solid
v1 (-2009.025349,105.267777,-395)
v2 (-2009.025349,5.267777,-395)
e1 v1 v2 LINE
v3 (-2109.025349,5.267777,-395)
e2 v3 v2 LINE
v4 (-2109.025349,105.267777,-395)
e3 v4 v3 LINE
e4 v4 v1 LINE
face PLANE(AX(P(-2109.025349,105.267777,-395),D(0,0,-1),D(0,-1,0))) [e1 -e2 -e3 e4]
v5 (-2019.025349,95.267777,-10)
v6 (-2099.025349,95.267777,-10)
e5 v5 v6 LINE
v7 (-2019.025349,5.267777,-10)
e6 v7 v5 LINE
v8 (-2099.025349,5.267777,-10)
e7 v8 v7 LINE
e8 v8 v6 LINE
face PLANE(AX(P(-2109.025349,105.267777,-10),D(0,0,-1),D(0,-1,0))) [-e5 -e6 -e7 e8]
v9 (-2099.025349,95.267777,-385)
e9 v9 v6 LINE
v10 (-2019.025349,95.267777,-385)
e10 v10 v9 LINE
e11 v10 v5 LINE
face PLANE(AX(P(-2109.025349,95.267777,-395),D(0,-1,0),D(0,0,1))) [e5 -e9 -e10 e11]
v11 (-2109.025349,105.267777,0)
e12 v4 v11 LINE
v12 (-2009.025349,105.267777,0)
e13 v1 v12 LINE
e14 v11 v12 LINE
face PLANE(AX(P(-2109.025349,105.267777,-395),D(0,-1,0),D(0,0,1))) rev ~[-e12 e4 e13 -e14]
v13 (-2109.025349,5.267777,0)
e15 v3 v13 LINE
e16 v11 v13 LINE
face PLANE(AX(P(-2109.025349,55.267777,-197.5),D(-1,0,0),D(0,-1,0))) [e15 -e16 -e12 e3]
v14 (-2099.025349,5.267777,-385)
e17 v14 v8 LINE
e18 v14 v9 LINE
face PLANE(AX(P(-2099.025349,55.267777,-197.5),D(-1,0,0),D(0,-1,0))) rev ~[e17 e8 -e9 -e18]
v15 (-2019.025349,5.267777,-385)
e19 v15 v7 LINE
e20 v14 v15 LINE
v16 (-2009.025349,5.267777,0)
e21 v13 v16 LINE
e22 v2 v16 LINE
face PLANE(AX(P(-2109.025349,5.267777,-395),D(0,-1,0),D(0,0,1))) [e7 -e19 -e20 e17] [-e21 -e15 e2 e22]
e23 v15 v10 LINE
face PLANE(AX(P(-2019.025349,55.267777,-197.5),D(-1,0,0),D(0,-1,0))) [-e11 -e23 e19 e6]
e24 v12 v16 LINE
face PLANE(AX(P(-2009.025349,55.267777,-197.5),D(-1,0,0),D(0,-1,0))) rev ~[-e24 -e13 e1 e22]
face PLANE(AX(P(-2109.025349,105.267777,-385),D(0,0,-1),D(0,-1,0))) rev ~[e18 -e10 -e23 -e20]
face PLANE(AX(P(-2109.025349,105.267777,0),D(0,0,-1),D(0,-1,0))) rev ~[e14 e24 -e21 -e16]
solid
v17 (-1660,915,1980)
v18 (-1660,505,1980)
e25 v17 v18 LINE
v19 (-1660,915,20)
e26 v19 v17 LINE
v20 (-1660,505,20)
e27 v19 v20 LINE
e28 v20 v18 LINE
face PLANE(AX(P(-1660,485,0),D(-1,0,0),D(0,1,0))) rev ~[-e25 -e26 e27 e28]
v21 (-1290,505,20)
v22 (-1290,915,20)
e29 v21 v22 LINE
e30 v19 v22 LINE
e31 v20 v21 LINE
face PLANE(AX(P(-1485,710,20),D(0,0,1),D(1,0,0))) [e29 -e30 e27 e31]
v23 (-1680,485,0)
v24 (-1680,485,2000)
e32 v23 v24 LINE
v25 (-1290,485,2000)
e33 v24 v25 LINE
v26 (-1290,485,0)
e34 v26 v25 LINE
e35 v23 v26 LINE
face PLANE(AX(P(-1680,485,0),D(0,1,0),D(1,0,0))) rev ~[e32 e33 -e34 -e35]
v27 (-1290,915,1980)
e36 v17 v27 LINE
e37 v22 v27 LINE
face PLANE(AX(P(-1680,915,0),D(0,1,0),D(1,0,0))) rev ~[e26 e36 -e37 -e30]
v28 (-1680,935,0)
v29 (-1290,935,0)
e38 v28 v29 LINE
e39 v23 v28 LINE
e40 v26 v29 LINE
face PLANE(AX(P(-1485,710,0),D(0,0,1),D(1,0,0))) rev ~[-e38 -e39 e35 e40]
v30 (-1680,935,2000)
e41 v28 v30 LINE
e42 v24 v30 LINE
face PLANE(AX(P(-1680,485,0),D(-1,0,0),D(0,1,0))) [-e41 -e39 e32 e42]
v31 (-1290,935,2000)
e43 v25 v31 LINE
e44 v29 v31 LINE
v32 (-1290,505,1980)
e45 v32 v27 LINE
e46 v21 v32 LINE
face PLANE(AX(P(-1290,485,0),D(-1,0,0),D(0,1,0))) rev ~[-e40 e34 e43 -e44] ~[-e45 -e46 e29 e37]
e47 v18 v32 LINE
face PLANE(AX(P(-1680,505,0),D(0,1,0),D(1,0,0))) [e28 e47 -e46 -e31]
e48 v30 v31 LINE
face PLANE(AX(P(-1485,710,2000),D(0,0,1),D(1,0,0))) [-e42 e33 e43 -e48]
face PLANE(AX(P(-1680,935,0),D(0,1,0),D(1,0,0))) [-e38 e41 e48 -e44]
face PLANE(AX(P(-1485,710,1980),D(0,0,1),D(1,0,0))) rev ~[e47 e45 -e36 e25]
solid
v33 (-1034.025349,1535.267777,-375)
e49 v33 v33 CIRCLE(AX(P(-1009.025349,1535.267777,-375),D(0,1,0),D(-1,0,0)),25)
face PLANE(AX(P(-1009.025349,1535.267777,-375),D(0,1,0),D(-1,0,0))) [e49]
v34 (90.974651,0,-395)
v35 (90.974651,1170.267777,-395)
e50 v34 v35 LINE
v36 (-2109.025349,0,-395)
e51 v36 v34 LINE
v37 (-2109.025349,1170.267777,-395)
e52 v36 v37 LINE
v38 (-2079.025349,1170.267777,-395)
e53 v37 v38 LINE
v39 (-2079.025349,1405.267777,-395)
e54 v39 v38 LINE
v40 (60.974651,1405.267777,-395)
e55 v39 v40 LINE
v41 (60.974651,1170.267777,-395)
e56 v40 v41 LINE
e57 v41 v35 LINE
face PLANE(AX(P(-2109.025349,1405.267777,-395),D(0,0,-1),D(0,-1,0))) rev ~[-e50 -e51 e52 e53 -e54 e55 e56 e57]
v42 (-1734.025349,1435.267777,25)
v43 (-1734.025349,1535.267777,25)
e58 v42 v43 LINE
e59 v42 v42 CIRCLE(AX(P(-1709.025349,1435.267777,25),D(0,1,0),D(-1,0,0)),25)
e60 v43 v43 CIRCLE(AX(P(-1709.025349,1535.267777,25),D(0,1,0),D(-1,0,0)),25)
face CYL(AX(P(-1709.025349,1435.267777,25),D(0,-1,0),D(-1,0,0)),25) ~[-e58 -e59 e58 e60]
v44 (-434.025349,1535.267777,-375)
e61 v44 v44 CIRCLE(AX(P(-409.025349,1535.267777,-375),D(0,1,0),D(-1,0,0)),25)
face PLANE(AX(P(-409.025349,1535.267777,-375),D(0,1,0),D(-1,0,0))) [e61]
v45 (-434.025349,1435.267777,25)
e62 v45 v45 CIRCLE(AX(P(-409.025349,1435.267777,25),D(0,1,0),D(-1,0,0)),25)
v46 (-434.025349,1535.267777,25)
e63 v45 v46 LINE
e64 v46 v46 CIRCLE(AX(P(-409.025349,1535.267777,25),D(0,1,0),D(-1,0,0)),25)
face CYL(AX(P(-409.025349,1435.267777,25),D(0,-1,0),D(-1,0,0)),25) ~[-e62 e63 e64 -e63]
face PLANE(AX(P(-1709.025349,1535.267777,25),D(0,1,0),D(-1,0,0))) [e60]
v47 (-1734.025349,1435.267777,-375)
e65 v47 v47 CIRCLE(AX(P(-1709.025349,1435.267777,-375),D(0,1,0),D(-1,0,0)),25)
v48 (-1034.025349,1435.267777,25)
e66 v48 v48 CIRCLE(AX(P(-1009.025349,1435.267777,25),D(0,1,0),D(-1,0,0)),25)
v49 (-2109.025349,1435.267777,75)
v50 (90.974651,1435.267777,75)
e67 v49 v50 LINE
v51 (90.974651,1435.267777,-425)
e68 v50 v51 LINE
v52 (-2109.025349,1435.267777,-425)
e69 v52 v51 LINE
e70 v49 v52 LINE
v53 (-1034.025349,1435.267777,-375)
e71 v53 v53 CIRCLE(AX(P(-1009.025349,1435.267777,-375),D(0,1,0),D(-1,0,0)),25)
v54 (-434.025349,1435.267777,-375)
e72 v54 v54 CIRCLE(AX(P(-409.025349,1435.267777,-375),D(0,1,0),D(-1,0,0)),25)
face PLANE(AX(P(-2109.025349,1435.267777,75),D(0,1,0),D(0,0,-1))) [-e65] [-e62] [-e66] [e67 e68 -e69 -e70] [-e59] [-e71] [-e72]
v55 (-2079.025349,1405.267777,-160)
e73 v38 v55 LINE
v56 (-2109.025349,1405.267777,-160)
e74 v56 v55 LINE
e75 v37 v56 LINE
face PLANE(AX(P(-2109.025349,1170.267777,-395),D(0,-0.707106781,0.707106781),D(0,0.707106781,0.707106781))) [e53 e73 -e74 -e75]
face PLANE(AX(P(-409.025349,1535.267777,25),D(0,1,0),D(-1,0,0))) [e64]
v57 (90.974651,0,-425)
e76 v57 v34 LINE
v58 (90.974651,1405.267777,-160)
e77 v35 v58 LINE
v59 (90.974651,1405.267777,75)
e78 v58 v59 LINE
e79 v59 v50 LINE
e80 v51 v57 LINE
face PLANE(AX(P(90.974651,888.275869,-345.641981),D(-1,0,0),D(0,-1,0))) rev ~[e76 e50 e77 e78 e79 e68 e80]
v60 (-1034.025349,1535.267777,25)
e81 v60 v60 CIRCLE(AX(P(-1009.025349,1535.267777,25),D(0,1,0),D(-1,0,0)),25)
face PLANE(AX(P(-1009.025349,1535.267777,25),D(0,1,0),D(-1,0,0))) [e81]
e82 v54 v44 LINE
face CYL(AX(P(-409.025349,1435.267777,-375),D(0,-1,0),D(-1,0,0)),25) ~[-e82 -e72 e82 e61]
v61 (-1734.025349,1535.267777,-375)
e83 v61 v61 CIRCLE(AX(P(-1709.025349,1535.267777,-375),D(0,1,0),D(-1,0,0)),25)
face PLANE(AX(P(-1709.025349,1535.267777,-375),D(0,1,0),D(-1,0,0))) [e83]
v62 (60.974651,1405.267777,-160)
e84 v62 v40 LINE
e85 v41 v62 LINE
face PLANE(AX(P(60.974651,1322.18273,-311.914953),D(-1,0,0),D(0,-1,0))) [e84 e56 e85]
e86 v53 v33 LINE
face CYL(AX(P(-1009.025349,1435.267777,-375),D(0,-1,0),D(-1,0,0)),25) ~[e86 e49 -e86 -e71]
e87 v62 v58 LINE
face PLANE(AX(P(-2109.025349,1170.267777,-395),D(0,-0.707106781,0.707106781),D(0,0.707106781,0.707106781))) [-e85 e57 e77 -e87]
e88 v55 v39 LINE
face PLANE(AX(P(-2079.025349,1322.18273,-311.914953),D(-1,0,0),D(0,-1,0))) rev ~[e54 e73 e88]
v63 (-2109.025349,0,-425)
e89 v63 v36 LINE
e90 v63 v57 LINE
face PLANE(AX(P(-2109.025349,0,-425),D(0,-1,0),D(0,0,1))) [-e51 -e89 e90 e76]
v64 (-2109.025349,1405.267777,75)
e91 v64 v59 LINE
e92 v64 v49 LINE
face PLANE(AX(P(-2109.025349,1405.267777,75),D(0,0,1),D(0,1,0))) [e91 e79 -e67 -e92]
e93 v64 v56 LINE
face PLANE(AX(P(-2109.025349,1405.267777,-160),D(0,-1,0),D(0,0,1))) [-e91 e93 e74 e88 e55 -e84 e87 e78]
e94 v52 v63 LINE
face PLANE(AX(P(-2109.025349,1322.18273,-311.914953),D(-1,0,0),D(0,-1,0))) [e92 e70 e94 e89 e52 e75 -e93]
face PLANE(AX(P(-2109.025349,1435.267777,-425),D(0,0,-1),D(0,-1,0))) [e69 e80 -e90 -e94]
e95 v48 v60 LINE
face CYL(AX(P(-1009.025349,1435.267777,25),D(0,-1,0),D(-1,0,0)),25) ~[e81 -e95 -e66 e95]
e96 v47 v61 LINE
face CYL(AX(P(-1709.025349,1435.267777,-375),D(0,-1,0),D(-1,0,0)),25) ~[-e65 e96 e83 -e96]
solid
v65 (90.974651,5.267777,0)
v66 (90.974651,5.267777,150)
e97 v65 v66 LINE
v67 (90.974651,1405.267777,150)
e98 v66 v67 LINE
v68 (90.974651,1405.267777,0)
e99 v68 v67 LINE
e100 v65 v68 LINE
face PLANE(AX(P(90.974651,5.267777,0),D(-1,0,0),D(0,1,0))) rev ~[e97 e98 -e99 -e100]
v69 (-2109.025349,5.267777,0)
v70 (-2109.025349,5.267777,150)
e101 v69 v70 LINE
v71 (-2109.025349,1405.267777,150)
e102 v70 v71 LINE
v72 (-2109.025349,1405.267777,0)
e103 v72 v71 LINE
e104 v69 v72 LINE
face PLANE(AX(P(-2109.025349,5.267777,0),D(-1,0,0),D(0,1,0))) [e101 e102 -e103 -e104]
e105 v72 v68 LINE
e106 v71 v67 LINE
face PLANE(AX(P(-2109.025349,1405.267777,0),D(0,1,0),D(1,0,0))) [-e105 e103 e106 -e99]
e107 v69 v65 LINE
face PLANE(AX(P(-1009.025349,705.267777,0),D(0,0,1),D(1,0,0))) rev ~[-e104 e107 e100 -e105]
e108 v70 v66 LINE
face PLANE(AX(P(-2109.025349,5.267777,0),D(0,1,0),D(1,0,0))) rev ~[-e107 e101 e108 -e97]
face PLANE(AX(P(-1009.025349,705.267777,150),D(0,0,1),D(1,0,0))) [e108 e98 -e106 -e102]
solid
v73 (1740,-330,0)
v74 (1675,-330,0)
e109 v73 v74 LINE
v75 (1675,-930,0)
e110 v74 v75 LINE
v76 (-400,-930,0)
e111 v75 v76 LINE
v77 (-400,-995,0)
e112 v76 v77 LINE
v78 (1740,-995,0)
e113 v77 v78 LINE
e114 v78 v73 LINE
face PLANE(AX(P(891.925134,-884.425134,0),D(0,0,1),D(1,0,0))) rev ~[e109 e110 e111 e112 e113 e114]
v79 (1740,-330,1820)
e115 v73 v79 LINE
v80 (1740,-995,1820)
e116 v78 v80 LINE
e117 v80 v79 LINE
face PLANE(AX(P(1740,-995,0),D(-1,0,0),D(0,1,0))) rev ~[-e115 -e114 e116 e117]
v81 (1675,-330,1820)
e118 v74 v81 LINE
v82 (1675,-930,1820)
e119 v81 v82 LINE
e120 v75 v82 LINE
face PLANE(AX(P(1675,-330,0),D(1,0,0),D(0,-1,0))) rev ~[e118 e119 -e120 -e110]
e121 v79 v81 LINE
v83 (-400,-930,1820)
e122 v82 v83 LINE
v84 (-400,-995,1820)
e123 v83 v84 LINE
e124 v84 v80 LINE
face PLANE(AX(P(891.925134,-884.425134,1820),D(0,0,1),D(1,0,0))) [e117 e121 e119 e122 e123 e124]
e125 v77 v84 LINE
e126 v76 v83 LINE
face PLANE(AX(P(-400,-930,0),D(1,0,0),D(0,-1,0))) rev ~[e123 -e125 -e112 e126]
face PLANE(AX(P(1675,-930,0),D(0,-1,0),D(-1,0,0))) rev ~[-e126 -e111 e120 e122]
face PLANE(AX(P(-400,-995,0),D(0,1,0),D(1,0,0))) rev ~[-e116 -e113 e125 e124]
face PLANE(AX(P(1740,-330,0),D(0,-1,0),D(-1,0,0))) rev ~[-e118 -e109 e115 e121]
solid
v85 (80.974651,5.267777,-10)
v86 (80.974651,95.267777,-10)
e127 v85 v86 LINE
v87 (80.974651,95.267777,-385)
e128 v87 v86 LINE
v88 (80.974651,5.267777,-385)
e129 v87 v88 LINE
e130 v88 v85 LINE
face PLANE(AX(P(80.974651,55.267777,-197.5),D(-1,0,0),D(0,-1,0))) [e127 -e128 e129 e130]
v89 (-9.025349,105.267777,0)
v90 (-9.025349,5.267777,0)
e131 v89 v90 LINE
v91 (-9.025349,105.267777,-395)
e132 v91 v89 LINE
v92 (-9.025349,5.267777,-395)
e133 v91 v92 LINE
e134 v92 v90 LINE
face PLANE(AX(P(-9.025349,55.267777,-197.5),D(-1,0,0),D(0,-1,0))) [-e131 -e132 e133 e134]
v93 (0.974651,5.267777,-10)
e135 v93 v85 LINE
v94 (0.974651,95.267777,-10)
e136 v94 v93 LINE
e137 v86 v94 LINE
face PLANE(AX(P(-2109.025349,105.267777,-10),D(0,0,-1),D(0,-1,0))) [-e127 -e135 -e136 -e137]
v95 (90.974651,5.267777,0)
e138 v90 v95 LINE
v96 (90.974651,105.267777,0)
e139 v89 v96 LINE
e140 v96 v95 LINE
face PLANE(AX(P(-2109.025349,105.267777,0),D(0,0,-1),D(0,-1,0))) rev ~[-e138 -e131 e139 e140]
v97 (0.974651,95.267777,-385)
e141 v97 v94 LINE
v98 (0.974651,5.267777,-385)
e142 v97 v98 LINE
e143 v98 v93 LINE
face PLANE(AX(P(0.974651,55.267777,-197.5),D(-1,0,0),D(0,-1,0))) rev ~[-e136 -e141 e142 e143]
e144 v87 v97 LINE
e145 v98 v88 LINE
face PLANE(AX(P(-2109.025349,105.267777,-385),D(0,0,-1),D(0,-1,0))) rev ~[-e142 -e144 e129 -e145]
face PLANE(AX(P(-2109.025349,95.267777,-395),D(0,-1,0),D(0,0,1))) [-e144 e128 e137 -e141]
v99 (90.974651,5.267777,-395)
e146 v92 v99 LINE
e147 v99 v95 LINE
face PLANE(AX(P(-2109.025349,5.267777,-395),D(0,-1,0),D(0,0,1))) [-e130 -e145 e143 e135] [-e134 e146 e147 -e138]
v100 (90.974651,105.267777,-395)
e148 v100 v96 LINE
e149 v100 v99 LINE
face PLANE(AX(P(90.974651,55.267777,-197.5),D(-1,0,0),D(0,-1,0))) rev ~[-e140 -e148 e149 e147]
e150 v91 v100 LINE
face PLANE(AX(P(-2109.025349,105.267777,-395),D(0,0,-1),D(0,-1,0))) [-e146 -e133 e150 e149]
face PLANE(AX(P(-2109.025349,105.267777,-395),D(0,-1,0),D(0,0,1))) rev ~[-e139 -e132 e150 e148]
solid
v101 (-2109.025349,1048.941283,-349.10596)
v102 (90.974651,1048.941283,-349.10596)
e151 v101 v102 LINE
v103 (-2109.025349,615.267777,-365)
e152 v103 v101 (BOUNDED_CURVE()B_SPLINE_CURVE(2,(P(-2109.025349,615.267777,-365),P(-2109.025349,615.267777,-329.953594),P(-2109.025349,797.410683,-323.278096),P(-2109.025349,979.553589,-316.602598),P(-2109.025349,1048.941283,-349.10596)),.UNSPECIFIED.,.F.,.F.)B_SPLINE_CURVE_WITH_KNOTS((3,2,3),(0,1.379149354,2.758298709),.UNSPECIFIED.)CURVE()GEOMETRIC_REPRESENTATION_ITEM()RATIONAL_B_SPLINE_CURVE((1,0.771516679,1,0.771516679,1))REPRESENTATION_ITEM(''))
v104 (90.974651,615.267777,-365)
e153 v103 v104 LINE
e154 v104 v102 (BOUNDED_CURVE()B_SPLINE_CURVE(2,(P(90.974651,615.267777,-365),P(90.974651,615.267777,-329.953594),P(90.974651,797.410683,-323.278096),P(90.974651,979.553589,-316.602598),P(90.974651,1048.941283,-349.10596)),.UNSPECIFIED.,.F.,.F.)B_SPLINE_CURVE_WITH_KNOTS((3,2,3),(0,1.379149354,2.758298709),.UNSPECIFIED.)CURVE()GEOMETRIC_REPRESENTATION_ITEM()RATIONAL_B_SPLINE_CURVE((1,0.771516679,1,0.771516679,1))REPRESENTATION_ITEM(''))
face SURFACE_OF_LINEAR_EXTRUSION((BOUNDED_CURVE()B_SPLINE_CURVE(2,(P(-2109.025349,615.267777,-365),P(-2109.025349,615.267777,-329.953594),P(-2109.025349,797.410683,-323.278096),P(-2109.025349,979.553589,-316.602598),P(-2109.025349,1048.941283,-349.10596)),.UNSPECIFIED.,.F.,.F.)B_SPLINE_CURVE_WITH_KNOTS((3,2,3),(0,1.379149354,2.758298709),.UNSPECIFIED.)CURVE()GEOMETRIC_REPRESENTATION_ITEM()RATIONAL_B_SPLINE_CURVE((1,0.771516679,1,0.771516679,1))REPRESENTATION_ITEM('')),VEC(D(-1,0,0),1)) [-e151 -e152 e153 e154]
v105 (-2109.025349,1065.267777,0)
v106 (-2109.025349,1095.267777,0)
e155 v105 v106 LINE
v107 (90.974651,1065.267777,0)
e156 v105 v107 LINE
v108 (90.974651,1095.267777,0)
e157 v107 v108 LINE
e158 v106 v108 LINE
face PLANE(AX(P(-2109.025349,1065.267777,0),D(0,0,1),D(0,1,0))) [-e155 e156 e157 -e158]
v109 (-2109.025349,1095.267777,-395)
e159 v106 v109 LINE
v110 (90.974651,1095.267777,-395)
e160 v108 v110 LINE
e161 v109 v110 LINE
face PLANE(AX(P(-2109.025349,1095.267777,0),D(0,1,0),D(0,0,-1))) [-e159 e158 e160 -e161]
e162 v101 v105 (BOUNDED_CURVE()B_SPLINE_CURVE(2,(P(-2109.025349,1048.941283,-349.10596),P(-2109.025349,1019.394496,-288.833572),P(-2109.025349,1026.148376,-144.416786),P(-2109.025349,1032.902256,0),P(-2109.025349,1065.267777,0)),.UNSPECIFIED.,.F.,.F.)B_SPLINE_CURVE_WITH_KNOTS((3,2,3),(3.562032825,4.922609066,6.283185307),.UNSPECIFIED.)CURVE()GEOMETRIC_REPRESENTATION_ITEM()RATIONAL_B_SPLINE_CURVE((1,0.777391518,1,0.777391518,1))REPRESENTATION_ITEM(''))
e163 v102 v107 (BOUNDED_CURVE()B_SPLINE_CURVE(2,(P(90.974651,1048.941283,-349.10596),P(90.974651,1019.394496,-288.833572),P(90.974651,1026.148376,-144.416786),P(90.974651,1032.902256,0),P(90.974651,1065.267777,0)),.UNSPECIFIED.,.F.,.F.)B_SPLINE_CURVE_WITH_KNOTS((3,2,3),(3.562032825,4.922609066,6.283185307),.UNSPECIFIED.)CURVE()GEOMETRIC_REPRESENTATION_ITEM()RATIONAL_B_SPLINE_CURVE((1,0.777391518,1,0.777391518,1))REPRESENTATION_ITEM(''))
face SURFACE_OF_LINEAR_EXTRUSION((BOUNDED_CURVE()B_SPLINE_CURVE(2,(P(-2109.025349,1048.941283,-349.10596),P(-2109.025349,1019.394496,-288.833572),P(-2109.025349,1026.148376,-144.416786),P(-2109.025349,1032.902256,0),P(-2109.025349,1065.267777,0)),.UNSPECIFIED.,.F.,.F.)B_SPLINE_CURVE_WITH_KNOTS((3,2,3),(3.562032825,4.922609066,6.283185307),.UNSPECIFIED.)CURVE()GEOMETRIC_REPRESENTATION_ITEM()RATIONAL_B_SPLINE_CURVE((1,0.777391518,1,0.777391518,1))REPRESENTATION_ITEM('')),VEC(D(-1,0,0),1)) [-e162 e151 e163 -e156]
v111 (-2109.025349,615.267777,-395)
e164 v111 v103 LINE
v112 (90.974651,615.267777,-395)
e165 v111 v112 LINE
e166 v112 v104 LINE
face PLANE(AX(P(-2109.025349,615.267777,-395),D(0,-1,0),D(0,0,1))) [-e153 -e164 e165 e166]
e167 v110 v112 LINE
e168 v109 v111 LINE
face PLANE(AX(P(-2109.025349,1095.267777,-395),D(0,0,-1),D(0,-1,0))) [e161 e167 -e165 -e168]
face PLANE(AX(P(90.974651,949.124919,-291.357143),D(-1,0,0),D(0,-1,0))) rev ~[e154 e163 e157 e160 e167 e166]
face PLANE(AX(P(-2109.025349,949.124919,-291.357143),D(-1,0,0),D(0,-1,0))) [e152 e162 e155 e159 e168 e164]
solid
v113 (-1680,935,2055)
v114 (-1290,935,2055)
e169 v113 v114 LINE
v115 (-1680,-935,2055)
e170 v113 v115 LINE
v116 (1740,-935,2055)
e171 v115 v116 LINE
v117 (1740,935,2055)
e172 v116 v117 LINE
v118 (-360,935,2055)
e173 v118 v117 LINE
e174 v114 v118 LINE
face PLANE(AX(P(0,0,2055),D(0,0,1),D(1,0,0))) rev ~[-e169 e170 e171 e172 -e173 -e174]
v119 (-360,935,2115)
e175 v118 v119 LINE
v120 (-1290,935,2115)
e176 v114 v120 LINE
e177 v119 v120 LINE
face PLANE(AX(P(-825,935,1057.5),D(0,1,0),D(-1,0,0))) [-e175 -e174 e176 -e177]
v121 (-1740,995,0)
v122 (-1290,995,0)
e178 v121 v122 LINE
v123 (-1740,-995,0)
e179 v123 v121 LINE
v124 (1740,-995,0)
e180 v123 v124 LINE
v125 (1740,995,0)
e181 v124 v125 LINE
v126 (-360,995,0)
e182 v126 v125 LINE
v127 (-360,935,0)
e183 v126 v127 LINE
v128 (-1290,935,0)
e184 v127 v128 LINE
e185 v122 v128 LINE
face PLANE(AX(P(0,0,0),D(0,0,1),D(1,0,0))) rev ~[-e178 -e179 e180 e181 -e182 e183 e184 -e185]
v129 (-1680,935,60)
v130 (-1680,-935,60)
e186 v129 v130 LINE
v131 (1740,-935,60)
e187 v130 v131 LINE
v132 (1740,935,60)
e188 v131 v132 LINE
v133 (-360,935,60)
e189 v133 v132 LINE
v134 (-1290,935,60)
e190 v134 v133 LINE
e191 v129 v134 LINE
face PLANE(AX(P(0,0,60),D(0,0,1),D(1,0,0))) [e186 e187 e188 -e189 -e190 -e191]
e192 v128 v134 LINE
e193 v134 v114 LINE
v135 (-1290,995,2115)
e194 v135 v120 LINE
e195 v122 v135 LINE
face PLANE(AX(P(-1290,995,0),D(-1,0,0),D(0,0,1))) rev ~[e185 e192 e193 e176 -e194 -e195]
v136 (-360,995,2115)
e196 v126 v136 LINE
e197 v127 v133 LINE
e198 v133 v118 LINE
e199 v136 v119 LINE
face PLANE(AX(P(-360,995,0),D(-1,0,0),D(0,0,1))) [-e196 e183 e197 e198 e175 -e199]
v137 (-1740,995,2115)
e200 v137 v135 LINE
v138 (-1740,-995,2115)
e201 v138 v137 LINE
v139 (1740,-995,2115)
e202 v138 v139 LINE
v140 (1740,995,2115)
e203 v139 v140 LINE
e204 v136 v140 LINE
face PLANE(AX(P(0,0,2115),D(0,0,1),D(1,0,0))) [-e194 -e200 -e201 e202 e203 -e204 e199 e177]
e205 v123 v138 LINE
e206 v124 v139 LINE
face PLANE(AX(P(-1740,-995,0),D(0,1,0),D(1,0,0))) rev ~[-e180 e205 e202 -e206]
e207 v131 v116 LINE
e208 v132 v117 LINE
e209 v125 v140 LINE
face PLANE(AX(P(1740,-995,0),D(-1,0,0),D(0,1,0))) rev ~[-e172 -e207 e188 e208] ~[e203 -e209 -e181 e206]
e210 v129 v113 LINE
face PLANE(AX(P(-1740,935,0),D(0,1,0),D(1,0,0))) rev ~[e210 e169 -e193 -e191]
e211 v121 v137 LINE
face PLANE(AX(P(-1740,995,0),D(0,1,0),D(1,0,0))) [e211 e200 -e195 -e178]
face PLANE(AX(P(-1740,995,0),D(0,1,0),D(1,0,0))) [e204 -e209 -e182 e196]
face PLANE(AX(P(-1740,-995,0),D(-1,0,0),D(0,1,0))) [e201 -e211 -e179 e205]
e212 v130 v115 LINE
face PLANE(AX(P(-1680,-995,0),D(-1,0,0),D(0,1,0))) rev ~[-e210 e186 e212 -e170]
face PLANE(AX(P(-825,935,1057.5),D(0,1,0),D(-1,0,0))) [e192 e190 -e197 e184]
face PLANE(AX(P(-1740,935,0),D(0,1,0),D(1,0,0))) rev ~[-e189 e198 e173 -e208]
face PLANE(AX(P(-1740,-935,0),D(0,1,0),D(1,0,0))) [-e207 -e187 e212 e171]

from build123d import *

# Parameters (mm, degrees)
F0_W      = 3480
F0_H      = 1990
F1_DEPTH  = 2115
F4_T      = -60
F3_W      = 930
F3_H      = 2115
F5_DEPTH  = 60
F6_W      = 2200
F6_H      = 1400
F7_DEPTH  = 150
F10_DEPTH = 2200
F11_DEPTH = 2170
F12_DEPTH = 30
F14_R     = 25
F15_DEPTH = 100
F18_DEPTH = 2200
F17_W     = 100
F17_H     = 395
F19_DEPTH = 2200
F20_DEPTH = 2100
F21_DEPTH = 100
F22_T     = -10
F22_2_T   = -10
F23_W     = 390
F23_H     = 450
F24_DEPTH = 2000
F25_T     = -20
F27_DEPTH = 1820


with BuildPart() as f1:
    # F0 (on Top) → F1 (new body)
    with BuildSketch(Plane.XY):
        Rectangle(F0_W, F0_H)
    extrude(amount=F1_DEPTH)

    # F4
    f4_openings = [f1.faces().sort_by_distance(p)[0] for p in [
        (1740, 0, 1057.5),
    ]]
    offset(amount=F4_T, openings=f4_openings)

    # F3 (on offset) → F5 (cut)
    with BuildSketch(Plane(origin=(0, 995, 0), x_dir=(-1, 0, 0), z_dir=(0, 1, 0))):
        with Locations((825, 1057.5)):
            Rectangle(F3_W, F3_H)
    extrude(amount=-F5_DEPTH, mode=Mode.SUBTRACT)


with BuildPart() as f7:
    # F6 (on Top) → F7 (new body)
    with BuildSketch(Plane.XY):
        with Locations((-1009.0253487229, 705.2677765489)):
            Rectangle(F6_W, F6_H)
    extrude(amount=F7_DEPTH)


with BuildPart() as f10:
    # F9 (on offset) → F10 (new body)
    with BuildSketch(Plane(origin=(-2109.0253487229, 0, 0), x_dir=(0, -1, 0), z_dir=(-1, 0, 0))):
        Polygon((-1405.2677765489, -160), (-1405.2677765489, 75), (-1435.2677765489, 75), (-1435.2677765489, -425), (0, -425), (0, -395), (-1170.2677765489, -395), (-1405.2677765489, -395), align=None)
        Polygon((-1170.2677765489, -395), (-1405.2677765489, -160), (-1405.2677765489, -395), align=None)
    extrude(amount=-F10_DEPTH)

    # F9 (on offset) → F11 (cut)
    with BuildSketch(Plane(origin=(-2109.0253487229, 0, 0), x_dir=(0, -1, 0), z_dir=(-1, 0, 0))):
        Polygon((-1170.2677765489, -395), (-1405.2677765489, -160), (-1405.2677765489, -395), align=None)
    extrude(amount=-F11_DEPTH, mode=Mode.SUBTRACT)

    # F9 (on offset) → F12 (join)
    with BuildSketch(Plane(origin=(-2109.0253487229, 0, 0), x_dir=(0, -1, 0), z_dir=(-1, 0, 0))):
        Polygon((-1170.2677765489, -395), (-1405.2677765489, -160), (-1405.2677765489, -395), align=None)
    extrude(amount=-F12_DEPTH)

    # F14 (on offset) → F15 (join)
    with BuildSketch(Plane(origin=(0, 1435.2677765489, 0), x_dir=(-1, 0, 0), z_dir=(0, 1, 0))):
        with Locations((409.0253487229, 25)):
            Circle(F14_R)
        with Locations((1709.0253487229, 25)):
            Circle(F14_R)
        with Locations((1009.0253487229, 25)):
            Circle(F14_R)
        with Locations((409.0253487229, -375)):
            Circle(F14_R)
        with Locations((1009.0253487229, -375)):
            Circle(F14_R)
        with Locations((1709.0253487229, -375)):
            Circle(F14_R)
    extrude(amount=F15_DEPTH)


with BuildPart() as f18:
    # F17 (on offset) → F18 (new body)
    with BuildSketch(Plane(origin=(-2109.0253487229, 0, 0), x_dir=(0, -1, 0), z_dir=(-1, 0, 0))):
        Polygon((-1065.2677765489, 0), (-1095.2677765489, 0), (-1095.2677765489, -395), (-615.2677765489, -395), (-615.2677765489, -365), (-1065.2677765489, -365), align=None)
        with BuildLine():
            add(Edge.make_bspline(
                [(-1048.9412833992, -349.1059595814), (-1019.3944963274, -288.8335720097), (-1026.1483760671, -144.4167860049), (-1032.9022558067, 0), (-1065.2677765489, 0)],
                knots=[3.5620328245, 3.5620328245, 3.5620328245, 4.9226090658, 4.9226090658, 6.2831853072, 6.2831853072, 6.2831853072], degree=2, weights=[1, 0.7773915182, 1, 0.7773915182, 1]))
            Line((-1065.2677765489, 0), (-1065.2677765489, -365))
            Line((-1065.2677765489, -365), (-1048.9412833992, -349.1059595814))
        make_face()
        with BuildLine():
            Line((-1048.9412833992, -349.1059595814), (-1065.2677765489, -365))
            Line((-1065.2677765489, -365), (-615.2677765489, -365))
            add(Edge.make_bspline(
                [(-615.2677765489, -365), (-615.2677765489, -329.9535942352), (-797.4106828613, -323.278096034), (-979.5535891738, -316.6025978327), (-1048.9412833992, -349.1059595814)],
                knots=[0, 0, 0, 1.3791493544, 1.3791493544, 2.7582987089, 2.7582987089, 2.7582987089], degree=2, weights=[1, 0.771516679, 1, 0.771516679, 1]))
        make_face()
    extrude(amount=-F18_DEPTH)


with BuildPart() as f19:
    # F17 (on offset) → F19 (new body)
    with BuildSketch(Plane(origin=(-2109.0253487229, 0, 0), x_dir=(0, -1, 0), z_dir=(-1, 0, 0))):
        with Locations((-55.2677765489, -197.5)):
            Rectangle(F17_W, F17_H)
    extrude(amount=-F19_DEPTH)

    # F17 (on offset) → F20 (cut)
    with BuildSketch(Plane(origin=(-2109.0253487229, 0, 0), x_dir=(0, -1, 0), z_dir=(-1, 0, 0))):
        with Locations((-55.2677765489, -197.5)):
            Rectangle(F17_W, F17_H)
    extrude(amount=-F20_DEPTH, mode=Mode.SUBTRACT)

    # F22
    f22_openings = [f19.faces().sort_by_distance(p)[0] for p in [
        (40.974651, 5.267777, -197.5),
    ]]
    offset(amount=F22_T, openings=f22_openings)


with BuildPart() as f21:
    # F17 (on offset) → F21 (new body)
    with BuildSketch(Plane(origin=(-2109.0253487229, 0, 0), x_dir=(0, -1, 0), z_dir=(-1, 0, 0))):
        with Locations((-55.2677765489, -197.5)):
            Rectangle(F17_W, F17_H)
    extrude(amount=-F21_DEPTH)

    # F22#2
    f22_2_openings = [f21.faces().sort_by_distance(p)[0] for p in [
        (-2059.025349, 5.267777, -197.5),
    ]]
    offset(amount=F22_2_T, openings=f22_2_openings)


with BuildPart() as f24:
    # F23 (on Top) → F24 (new body)
    with BuildSketch(Plane.XY):
        with Locations((-1485, 710)):
            Rectangle(F23_W, F23_H)
    extrude(amount=F24_DEPTH)

    # F25
    f25_openings = [f24.faces().sort_by_distance(p)[0] for p in [
        (-1290, 710, 1000),
    ]]
    offset(amount=F25_T, openings=f25_openings)


with BuildPart() as f27:
    # F26 (on Top) → F27 (new body)
    with BuildSketch(Plane.XY):
        Polygon((-400, -995), (525, -995), (1740, -995), (1740, -330), (1675, -330), (1675, -930), (765, -930), (525, -930), (-400, -930), align=None)
    extrude(amount=F27_DEPTH)


solid = Compound([f1.part, f7.part, f10.part, f18.part, f19.part, f21.part, f24.part, f27.part])
